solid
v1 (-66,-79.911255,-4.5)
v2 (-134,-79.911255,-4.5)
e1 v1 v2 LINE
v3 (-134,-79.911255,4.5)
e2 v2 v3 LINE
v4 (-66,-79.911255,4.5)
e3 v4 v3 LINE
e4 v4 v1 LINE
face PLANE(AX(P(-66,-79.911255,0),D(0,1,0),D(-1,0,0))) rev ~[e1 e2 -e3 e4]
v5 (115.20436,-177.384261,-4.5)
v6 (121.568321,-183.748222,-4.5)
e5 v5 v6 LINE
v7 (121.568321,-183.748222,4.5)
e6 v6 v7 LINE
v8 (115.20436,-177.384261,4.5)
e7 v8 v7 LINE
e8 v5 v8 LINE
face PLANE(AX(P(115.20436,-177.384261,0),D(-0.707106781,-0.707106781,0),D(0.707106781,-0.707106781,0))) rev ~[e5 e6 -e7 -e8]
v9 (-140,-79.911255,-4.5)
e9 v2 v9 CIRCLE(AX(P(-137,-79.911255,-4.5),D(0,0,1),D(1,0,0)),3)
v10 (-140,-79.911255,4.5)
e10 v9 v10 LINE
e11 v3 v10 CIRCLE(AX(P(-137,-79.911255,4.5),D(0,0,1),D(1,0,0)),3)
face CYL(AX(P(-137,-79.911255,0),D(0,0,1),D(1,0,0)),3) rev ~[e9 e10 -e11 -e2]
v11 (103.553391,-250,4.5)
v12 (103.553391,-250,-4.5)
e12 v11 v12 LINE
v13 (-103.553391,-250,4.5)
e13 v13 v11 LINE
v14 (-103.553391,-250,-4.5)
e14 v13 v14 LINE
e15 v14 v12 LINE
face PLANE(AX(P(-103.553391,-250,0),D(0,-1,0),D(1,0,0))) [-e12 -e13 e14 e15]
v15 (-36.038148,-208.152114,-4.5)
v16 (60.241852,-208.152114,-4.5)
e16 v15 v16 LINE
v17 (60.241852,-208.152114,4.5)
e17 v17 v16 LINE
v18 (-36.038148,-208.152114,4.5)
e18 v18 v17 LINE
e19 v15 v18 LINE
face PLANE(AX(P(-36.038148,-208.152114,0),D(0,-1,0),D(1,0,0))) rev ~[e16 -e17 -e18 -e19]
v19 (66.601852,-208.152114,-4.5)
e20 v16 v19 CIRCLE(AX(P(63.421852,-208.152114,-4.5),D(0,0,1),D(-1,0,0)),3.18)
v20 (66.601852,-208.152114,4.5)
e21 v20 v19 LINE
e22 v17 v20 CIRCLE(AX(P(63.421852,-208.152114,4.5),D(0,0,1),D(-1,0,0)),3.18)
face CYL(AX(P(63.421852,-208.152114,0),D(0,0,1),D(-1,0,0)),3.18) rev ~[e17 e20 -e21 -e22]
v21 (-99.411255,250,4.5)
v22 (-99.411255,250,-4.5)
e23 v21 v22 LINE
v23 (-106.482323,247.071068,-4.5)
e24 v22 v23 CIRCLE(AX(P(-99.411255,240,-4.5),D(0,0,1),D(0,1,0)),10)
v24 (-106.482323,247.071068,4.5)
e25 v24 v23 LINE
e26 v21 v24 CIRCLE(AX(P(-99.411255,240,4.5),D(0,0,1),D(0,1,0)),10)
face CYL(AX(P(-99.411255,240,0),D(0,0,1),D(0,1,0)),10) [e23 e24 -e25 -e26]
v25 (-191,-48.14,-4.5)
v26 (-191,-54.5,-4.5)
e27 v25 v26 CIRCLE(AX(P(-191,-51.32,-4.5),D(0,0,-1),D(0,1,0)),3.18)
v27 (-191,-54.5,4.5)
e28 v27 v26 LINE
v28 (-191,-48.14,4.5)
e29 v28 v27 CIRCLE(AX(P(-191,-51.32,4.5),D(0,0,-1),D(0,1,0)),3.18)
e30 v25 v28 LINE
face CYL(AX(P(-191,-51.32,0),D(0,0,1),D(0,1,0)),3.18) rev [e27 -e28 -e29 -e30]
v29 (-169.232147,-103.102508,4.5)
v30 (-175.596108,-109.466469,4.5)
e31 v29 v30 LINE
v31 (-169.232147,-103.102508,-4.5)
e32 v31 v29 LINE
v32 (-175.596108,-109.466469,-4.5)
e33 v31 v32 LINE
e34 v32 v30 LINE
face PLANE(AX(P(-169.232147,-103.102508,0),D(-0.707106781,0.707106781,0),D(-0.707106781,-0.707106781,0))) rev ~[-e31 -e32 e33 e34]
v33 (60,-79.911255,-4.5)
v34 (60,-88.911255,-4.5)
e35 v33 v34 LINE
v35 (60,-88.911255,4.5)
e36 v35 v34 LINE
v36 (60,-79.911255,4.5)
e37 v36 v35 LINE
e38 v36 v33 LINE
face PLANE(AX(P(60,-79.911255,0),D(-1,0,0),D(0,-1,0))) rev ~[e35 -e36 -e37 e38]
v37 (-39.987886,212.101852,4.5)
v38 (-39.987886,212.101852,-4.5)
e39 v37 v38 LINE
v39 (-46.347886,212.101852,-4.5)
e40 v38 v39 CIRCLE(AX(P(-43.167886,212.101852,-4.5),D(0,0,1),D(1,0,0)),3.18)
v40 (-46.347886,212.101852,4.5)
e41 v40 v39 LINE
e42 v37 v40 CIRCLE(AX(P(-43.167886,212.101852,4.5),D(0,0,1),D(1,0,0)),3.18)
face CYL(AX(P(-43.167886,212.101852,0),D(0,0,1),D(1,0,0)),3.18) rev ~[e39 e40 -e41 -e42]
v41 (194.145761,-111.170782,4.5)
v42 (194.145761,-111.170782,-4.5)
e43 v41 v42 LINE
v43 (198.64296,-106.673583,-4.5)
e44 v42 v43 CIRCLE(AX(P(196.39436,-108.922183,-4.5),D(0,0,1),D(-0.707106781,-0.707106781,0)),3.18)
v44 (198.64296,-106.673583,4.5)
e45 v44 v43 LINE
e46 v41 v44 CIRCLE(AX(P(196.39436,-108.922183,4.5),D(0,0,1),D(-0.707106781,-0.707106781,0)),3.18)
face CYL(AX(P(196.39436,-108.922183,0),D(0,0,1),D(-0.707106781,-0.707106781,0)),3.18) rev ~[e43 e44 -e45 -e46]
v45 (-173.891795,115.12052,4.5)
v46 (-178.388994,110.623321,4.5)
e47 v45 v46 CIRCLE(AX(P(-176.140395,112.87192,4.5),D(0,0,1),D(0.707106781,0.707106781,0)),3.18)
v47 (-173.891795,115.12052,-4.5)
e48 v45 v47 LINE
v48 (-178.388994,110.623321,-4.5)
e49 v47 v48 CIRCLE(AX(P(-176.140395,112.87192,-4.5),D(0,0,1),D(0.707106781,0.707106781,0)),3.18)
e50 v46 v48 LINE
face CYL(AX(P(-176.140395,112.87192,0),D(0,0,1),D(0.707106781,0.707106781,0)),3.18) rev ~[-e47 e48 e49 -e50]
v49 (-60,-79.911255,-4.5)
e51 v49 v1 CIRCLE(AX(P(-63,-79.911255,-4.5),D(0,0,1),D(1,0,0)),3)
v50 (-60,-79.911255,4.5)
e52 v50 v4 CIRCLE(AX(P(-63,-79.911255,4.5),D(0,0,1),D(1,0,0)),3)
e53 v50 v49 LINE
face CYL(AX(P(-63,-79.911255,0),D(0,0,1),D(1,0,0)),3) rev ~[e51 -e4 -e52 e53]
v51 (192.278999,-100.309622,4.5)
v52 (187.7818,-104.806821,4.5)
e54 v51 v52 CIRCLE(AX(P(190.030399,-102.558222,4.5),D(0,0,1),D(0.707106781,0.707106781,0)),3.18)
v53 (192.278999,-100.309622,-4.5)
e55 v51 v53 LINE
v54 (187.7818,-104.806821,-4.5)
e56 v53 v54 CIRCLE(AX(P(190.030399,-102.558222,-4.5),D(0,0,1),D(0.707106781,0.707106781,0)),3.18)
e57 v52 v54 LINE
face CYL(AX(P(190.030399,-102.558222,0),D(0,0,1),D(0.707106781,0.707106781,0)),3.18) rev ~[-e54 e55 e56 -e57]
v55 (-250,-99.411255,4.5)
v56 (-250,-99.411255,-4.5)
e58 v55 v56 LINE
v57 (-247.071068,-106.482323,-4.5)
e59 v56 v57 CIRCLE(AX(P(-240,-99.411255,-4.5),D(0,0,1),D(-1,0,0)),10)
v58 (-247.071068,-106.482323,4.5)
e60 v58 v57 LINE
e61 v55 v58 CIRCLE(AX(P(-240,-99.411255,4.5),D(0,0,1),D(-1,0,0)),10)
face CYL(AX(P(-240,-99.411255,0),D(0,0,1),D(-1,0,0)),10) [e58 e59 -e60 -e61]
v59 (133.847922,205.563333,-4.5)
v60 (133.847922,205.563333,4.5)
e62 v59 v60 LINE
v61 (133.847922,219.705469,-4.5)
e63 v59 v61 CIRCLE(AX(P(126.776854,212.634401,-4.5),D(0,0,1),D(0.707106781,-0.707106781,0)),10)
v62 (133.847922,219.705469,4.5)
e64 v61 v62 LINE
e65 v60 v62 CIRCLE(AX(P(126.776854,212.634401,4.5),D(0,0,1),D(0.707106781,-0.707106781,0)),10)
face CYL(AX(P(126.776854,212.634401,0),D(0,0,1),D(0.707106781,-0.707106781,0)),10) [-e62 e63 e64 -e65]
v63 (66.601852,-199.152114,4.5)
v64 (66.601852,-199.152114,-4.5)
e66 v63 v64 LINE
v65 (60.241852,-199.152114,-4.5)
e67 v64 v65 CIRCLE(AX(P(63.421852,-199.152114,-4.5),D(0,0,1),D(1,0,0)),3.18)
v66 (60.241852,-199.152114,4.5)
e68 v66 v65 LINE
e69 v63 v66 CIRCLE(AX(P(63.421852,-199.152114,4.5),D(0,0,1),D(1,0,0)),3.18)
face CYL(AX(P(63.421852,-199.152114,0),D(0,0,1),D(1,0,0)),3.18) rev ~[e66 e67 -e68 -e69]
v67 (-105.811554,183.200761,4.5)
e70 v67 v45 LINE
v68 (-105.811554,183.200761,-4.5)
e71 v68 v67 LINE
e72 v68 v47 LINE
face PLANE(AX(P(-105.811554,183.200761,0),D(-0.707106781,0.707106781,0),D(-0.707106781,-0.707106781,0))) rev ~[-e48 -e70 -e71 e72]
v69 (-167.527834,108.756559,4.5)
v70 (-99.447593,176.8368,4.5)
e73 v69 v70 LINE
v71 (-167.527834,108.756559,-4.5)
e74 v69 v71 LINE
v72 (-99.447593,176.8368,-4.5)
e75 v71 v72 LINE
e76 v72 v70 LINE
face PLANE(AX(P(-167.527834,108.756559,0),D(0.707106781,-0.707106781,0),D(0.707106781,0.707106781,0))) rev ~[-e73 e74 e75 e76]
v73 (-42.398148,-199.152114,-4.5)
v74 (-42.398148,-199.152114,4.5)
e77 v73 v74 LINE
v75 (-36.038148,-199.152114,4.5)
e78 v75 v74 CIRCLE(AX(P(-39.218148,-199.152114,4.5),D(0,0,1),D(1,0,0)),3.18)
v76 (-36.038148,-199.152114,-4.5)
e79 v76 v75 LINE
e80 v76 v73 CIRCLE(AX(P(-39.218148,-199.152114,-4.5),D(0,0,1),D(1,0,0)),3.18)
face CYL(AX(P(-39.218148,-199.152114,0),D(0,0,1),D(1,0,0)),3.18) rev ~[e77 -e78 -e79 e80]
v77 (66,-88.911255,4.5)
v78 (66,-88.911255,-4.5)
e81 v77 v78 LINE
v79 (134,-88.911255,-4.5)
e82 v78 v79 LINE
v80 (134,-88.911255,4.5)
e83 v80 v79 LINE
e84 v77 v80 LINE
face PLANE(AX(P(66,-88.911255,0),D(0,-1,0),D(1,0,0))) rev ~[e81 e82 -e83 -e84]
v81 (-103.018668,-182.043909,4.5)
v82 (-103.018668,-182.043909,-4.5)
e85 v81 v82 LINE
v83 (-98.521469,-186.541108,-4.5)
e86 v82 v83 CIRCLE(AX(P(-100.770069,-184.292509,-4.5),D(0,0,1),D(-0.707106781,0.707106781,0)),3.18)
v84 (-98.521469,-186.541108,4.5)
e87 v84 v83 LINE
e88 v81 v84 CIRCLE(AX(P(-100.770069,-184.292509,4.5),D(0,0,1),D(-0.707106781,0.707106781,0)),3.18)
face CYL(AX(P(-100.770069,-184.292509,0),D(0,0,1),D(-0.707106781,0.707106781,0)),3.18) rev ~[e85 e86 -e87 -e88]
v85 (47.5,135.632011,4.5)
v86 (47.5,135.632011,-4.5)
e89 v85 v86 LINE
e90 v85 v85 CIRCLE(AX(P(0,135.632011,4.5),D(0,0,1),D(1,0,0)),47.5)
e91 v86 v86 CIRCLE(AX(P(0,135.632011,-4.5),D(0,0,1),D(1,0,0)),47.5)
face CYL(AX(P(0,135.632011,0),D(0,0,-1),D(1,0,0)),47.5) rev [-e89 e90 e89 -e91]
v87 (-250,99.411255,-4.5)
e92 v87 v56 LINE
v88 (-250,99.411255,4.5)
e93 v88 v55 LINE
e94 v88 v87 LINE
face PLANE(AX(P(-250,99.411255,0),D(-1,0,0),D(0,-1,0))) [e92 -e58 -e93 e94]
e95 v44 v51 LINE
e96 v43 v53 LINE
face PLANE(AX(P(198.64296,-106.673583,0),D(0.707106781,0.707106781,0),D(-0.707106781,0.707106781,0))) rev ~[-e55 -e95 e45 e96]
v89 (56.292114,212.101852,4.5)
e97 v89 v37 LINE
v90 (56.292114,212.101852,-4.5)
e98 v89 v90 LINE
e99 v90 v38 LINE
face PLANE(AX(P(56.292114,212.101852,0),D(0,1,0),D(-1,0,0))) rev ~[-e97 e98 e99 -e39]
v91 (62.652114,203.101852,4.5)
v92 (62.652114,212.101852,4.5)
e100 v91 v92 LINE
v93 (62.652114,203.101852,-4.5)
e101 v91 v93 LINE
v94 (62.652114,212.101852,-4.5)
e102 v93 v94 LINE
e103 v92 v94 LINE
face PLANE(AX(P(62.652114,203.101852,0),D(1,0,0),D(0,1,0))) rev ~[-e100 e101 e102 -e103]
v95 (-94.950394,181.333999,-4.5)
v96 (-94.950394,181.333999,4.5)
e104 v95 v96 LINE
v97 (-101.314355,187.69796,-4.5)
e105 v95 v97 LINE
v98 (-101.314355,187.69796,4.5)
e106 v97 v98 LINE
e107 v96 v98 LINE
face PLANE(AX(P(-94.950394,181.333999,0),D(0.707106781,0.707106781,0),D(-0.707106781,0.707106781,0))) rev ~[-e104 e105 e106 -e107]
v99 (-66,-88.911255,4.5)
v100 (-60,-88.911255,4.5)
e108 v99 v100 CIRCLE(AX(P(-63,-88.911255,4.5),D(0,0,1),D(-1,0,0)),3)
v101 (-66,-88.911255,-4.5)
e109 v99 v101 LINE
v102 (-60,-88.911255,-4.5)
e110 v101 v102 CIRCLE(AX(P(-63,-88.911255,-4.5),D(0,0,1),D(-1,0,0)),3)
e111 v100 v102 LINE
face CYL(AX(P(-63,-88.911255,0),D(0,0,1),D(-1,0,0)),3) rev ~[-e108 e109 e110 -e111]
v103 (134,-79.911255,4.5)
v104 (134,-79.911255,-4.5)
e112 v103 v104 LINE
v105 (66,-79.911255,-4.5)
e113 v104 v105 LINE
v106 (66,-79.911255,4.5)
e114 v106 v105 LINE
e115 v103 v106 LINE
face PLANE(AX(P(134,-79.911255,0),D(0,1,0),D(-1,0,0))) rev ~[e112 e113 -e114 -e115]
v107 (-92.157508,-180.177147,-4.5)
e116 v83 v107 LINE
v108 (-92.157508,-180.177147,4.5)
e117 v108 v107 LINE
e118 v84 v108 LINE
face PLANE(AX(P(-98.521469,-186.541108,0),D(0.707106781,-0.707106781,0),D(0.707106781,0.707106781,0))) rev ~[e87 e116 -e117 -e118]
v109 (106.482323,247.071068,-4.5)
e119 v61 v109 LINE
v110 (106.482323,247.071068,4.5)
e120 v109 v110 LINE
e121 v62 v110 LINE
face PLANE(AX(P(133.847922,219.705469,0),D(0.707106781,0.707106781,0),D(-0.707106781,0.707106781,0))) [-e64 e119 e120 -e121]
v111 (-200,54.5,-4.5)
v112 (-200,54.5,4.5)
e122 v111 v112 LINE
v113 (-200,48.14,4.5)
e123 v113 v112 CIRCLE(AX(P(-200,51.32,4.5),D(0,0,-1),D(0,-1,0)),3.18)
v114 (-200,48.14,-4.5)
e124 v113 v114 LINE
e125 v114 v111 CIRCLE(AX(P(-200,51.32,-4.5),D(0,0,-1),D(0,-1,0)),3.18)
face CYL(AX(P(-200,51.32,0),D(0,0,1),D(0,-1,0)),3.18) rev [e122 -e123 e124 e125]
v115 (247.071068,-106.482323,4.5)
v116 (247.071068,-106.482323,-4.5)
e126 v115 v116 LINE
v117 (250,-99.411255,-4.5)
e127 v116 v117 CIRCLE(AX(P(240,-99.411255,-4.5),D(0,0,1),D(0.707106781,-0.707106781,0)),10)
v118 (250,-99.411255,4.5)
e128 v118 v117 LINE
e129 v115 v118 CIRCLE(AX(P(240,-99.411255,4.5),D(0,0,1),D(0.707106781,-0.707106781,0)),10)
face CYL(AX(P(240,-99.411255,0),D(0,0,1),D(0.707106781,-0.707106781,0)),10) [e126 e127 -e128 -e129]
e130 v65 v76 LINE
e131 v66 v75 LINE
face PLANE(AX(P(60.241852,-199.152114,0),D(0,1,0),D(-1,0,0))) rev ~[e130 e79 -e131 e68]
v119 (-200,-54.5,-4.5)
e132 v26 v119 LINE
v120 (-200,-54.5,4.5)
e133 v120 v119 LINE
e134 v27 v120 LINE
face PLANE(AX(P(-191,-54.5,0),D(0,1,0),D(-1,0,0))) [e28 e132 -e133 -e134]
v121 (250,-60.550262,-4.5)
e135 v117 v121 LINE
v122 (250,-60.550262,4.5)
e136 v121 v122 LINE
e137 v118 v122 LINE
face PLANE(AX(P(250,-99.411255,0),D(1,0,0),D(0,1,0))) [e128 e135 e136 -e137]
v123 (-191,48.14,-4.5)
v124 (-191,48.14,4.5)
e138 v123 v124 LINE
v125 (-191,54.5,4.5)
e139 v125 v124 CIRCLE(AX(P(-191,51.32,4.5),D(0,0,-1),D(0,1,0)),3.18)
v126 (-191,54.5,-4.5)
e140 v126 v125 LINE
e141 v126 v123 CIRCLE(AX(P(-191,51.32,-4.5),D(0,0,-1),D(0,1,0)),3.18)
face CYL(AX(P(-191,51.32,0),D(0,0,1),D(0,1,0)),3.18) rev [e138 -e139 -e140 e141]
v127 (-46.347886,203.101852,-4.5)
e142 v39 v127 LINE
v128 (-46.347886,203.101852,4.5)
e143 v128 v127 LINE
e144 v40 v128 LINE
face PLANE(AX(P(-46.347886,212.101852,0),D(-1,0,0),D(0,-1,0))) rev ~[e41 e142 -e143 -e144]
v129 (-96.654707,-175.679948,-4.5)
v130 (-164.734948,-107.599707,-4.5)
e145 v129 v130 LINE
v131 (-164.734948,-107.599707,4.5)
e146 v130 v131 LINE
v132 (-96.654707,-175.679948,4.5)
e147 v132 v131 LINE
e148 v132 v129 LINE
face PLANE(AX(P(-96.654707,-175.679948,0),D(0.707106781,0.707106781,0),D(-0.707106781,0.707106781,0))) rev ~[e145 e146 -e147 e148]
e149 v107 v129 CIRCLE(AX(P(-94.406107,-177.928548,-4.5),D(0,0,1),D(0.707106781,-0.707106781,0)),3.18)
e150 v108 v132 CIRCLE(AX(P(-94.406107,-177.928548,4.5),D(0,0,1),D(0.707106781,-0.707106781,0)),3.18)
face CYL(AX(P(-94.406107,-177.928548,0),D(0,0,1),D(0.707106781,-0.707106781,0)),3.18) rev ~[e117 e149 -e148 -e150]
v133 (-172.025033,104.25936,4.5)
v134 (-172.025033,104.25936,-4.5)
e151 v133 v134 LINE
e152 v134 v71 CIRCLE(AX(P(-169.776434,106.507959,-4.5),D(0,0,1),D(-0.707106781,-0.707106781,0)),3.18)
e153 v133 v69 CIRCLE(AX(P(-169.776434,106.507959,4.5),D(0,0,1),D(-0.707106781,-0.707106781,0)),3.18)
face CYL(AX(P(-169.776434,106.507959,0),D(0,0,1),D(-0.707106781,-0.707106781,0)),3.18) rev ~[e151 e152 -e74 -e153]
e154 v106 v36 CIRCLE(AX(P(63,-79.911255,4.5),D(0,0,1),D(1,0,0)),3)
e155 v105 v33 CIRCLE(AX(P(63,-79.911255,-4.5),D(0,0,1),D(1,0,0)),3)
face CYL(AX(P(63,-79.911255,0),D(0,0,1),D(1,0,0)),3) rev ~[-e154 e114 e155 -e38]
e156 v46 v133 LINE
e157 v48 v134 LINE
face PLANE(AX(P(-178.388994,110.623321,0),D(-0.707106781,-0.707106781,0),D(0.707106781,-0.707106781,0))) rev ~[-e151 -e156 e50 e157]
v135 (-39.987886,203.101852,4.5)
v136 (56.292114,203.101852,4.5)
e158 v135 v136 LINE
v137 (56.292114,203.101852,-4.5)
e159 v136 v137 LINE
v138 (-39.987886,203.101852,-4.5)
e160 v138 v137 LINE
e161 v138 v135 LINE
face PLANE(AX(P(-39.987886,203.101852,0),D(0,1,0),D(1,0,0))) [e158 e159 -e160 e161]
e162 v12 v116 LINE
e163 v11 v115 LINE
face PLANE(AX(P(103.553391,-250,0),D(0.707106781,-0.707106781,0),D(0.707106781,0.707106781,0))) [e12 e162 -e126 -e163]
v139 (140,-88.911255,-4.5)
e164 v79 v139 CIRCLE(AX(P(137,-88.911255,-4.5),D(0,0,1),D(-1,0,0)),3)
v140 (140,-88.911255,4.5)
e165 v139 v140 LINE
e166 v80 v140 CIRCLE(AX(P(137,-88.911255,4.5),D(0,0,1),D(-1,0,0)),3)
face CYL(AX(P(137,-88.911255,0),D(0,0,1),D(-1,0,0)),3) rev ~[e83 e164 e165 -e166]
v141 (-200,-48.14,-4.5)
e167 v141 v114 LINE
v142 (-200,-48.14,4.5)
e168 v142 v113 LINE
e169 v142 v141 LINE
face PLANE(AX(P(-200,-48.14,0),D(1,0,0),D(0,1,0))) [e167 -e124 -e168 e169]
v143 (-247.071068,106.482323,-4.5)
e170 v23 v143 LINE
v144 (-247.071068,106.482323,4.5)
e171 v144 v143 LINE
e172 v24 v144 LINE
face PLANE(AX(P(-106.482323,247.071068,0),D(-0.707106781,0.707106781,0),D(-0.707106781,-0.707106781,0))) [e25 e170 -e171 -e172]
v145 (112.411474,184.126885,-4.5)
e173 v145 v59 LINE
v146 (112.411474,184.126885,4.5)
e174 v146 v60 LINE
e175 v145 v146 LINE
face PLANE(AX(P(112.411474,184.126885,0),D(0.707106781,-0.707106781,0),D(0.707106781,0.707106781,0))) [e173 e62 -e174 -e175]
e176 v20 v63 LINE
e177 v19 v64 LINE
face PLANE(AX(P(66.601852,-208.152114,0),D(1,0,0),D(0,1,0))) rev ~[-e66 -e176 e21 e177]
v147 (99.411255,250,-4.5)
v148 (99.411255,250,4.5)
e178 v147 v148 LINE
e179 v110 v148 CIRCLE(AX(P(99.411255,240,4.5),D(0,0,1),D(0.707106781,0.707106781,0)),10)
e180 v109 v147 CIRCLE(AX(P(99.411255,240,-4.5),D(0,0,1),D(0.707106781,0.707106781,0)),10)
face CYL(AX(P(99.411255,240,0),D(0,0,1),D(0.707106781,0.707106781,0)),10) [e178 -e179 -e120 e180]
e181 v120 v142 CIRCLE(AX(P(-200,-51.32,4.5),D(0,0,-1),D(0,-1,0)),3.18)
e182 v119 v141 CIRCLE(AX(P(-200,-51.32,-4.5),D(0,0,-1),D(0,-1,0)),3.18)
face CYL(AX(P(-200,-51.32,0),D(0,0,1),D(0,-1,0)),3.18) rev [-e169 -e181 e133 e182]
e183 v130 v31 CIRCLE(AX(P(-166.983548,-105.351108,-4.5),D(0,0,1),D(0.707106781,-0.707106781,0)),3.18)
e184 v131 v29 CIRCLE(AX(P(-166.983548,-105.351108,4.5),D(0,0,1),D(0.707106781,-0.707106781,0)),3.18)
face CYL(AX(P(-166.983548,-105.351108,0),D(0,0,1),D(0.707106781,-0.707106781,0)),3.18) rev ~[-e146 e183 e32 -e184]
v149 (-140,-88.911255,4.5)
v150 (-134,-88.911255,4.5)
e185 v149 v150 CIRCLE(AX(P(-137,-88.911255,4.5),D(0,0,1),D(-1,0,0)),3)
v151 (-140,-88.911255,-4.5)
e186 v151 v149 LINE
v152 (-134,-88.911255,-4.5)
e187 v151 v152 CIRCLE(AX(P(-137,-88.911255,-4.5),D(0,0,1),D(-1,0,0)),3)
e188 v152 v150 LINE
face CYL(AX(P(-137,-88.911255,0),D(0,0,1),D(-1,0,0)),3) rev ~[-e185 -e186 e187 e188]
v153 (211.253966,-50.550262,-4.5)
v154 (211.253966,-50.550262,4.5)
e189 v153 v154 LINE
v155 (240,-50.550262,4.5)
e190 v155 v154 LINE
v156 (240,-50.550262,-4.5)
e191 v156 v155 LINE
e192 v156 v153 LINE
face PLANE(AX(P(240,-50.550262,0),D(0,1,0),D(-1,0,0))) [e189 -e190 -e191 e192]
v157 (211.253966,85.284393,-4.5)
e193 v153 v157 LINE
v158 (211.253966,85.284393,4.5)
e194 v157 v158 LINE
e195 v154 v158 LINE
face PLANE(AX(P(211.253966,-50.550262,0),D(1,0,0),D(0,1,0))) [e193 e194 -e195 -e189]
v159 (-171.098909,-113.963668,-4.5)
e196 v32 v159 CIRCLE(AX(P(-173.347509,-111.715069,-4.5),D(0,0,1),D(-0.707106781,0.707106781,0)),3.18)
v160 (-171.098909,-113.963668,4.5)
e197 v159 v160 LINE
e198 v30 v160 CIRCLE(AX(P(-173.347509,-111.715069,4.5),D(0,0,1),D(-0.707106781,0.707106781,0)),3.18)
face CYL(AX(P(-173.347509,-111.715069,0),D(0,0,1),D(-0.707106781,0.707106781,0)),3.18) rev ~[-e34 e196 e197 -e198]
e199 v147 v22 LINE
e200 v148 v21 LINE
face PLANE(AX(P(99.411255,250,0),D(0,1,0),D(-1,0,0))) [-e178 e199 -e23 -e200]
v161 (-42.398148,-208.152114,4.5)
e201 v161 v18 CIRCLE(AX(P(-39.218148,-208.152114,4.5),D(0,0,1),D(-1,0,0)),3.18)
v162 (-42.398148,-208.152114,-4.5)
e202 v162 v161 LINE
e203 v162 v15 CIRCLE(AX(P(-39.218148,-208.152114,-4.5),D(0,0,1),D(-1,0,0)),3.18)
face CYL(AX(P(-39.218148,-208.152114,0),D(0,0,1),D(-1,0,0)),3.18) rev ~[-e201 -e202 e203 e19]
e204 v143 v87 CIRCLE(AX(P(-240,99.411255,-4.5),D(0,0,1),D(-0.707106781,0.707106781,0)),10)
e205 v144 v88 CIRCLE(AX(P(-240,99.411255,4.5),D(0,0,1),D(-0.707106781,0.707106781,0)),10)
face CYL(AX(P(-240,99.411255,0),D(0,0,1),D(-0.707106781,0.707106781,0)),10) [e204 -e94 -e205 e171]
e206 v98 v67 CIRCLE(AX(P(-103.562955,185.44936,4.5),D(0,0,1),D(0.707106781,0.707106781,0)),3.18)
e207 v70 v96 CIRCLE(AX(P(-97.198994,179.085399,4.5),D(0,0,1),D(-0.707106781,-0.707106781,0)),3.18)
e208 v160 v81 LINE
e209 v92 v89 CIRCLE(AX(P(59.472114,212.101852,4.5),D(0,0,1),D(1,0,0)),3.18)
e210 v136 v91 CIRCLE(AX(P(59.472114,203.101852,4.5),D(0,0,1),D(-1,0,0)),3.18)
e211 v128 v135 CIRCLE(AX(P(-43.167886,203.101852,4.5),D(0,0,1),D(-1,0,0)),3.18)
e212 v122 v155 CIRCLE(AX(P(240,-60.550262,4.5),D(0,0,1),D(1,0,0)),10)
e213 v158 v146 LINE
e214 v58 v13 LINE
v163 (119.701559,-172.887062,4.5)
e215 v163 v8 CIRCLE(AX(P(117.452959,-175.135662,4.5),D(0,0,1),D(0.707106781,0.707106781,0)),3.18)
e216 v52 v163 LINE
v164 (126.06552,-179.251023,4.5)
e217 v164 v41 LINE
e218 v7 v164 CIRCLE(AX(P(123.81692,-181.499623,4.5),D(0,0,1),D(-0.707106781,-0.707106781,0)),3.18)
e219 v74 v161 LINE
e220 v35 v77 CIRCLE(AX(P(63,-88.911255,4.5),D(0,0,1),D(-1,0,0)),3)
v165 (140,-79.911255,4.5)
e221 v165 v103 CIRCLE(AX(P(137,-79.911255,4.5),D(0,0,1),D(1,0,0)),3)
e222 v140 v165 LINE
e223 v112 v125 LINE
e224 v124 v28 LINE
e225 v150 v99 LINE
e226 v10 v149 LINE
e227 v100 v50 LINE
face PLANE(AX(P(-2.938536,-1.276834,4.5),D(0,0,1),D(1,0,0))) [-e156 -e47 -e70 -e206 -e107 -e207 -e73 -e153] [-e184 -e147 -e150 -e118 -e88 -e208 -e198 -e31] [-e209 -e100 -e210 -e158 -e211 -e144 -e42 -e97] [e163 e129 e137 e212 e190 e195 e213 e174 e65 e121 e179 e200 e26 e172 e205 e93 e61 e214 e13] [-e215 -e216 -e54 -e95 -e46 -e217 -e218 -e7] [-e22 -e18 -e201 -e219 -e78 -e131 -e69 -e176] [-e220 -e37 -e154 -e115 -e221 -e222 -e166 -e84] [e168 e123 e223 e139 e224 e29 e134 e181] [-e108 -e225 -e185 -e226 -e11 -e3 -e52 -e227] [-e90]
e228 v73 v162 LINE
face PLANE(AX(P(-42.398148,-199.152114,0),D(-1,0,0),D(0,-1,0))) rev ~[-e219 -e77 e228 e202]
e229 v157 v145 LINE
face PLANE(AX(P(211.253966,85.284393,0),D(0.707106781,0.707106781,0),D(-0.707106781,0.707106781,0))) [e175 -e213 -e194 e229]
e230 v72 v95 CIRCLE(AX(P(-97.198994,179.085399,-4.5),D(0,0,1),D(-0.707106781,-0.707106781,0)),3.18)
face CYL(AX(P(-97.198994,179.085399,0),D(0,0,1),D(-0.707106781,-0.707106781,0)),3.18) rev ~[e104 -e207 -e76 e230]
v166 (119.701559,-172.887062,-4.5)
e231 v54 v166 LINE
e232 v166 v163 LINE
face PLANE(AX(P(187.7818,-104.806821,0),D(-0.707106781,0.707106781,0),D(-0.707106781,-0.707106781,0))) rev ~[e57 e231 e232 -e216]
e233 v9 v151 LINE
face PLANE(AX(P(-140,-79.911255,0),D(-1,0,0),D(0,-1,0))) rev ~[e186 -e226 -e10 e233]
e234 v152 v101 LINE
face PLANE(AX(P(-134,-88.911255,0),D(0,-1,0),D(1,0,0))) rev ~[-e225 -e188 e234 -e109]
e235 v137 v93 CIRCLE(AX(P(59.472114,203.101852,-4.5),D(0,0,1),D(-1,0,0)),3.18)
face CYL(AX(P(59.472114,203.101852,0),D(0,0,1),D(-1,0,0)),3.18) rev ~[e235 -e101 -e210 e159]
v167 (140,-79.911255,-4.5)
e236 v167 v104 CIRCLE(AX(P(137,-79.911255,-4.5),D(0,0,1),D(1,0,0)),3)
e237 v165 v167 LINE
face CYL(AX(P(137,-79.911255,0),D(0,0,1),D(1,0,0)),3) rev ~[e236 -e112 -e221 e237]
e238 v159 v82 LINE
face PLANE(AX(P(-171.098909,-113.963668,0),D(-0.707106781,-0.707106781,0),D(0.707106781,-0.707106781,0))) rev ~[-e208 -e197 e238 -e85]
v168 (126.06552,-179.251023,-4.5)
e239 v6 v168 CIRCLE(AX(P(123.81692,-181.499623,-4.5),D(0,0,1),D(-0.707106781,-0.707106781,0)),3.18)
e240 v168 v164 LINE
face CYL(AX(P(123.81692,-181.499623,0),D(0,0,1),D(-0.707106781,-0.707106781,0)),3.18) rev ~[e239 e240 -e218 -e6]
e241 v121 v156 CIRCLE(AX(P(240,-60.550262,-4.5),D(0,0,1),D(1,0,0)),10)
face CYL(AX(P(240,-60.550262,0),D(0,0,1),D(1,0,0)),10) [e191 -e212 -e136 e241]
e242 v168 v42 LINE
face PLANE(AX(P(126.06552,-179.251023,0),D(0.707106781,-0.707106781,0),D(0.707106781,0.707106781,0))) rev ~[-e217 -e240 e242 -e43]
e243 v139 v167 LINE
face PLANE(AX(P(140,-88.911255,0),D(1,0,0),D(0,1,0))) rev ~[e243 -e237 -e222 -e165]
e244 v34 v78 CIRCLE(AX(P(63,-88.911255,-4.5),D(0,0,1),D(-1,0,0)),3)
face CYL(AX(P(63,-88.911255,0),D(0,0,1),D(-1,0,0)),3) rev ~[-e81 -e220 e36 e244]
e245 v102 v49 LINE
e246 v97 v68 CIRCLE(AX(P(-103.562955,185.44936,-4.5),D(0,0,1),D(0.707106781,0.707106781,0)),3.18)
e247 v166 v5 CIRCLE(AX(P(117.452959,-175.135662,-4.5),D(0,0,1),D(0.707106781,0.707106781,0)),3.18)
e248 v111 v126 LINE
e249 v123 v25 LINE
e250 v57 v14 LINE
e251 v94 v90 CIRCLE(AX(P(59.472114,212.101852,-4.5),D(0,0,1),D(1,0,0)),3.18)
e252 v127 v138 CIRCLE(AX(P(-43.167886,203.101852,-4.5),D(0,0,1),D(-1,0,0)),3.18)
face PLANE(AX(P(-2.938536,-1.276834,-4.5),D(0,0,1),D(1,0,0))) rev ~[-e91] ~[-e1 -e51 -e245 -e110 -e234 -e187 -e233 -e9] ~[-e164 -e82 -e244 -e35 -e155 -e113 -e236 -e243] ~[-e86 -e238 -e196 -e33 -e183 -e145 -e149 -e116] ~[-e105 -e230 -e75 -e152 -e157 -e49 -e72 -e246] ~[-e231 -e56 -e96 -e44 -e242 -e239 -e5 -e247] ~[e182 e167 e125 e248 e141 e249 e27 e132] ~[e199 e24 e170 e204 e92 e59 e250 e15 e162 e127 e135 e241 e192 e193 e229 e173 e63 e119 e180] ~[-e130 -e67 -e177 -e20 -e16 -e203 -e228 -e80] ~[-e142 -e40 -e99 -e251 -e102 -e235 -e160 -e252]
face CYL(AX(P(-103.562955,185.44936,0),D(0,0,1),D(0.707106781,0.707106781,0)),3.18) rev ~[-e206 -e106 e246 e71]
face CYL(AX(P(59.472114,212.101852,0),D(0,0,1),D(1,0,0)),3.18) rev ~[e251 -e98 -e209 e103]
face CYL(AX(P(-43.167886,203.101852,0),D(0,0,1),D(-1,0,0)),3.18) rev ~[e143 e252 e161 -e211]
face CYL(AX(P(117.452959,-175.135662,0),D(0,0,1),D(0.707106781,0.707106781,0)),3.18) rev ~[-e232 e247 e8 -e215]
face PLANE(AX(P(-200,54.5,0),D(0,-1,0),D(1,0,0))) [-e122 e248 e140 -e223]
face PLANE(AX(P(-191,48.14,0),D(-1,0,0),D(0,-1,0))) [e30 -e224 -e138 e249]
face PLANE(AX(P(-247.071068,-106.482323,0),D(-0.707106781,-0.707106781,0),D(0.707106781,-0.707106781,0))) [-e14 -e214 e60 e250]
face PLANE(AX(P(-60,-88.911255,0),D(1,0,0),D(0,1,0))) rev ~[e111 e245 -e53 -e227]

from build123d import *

# Parameters (mm, degrees)
SKETCH1_R           = 47.5
BOSS_EXTRUDE1_DEPTH = 4.5


with BuildPart() as part:
    # Sketch1 → Boss-Extrude1 (new body, symmetric)
    with BuildSketch(Plane.XY):
        with BuildLine():
            Line((250, -99.41125497), (250, -60.550262484))
            ThreePointArc((250, -60.550262484), (247.071067812, -53.479194672), (240, -50.550262484))
            Line((240, -50.550262484), (211.253965719, -50.550262484))
            Line((211.253965719, -50.550262484), (211.253965719, 85.284392818))
            Line((211.253965719, 85.284392818), (112.411473654, 184.126884883))
            Line((112.411473654, 184.126884883), (133.84792187, 205.563333099))
            ThreePointArc((133.84792187, 205.563333099), (136.776854058, 212.634400911), (133.84792187, 219.705468723))
            Line((133.84792187, 219.705468723), (106.482322781, 247.071067812))
            ThreePointArc((106.482322781, 247.071067812), (103.238089293, 249.238795325), (99.41125497, 250))
            Line((99.41125497, 250), (-99.41125497, 250))
            ThreePointArc((-99.41125497, 250), (-103.238089293, 249.238795325), (-106.482322781, 247.071067812))
            Line((-106.482322781, 247.071067812), (-247.071067812, 106.482322781))
            ThreePointArc((-247.071067812, 106.482322781), (-249.238795325, 103.238089293), (-250, 99.41125497))
            Line((-250, 99.41125497), (-250, -99.41125497))
            ThreePointArc((-250, -99.41125497), (-249.238795325, -103.238089293), (-247.071067812, -106.482322781))
            Line((-247.071067812, -106.482322781), (-103.553390593, -250))
            Line((-103.553390593, -250), (103.553390593, -250))
            Line((103.553390593, -250), (247.071067812, -106.482322781))
            ThreePointArc((247.071067812, -106.482322781), (249.238795325, -103.238089293), (250, -99.41125497))
        make_face()
        with Locations((0, 135.632011386)):
            Circle(SKETCH1_R, mode=Mode.SUBTRACT)
        with BuildLine():
            Line((-200, 54.5), (-191, 54.5))
            ThreePointArc((-191, 54.5), (-187.82, 51.32), (-191, 48.14))
            Line((-191, 48.14), (-191, -48.14))
            ThreePointArc((-191, -48.14), (-187.82, -51.32), (-191, -54.5))
            Line((-191, -54.5), (-200, -54.5))
            ThreePointArc((-200, -54.5), (-203.18, -51.32), (-200, -48.14))
            Line((-200, -48.14), (-200, 48.14))
            ThreePointArc((-200, 48.14), (-203.18, 51.32), (-200, 54.5))
        make_face(mode=Mode.SUBTRACT)
        with BuildLine():
            Line((-105.811554275, 183.200760604), (-173.891795168, 115.120519711))
            ThreePointArc((-173.891795168, 115.120519711), (-178.388994296, 115.120519711), (-178.388994296, 110.623320583))
            Line((-178.388994296, 110.623320583), (-172.025033265, 104.259359552))
            ThreePointArc((-172.025033265, 104.259359552), (-167.527834137, 104.259359552), (-167.527834137, 108.756558681))
            Line((-167.527834137, 108.756558681), (-99.447593244, 176.836799573))
            ThreePointArc((-99.447593244, 176.836799573), (-94.950394116, 176.836799573), (-94.950394116, 181.333998701))
            Line((-94.950394116, 181.333998701), (-101.314355147, 187.697959732))
            ThreePointArc((-101.314355147, 187.697959732), (-105.811554275, 187.697959732), (-105.811554275, 183.200760604))
        make_face(mode=Mode.SUBTRACT)
        with BuildLine():
            Line((56.292114102, 212.101851618), (-39.987885898, 212.101851618))
            ThreePointArc((-39.987885898, 212.101851618), (-43.167885898, 215.281851618), (-46.347885898, 212.101851618))
            Line((-46.347885898, 212.101851618), (-46.347885898, 203.101851618))
            ThreePointArc((-46.347885898, 203.101851618), (-43.167885898, 199.921851618), (-39.987885898, 203.101851618))
            Line((-39.987885898, 203.101851618), (56.292114102, 203.101851618))
            ThreePointArc((56.292114102, 203.101851618), (59.472114102, 199.921851618), (62.652114102, 203.101851618))
            Line((62.652114102, 203.101851618), (62.652114102, 212.101851618))
            ThreePointArc((62.652114102, 212.101851618), (59.472114102, 215.281851618), (56.292114102, 212.101851618))
        make_face(mode=Mode.SUBTRACT)
        with BuildLine():
            Line((126.065519994, -179.251023088), (194.145760887, -111.170782195))
            ThreePointArc((194.145760887, -111.170782195), (198.642960015, -111.170782195), (198.642960015, -106.673583067))
            Line((198.642960015, -106.673583067), (192.278998984, -100.309622036))
            ThreePointArc((192.278998984, -100.309622036), (187.781799856, -100.309622036), (187.781799856, -104.806821165))
            Line((187.781799856, -104.806821165), (119.701558963, -172.887062057))
            ThreePointArc((119.701558963, -172.887062057), (115.204359835, -172.887062057), (115.204359835, -177.384261185))
            Line((115.204359835, -177.384261185), (121.568320866, -183.748222216))
            ThreePointArc((121.568320866, -183.748222216), (126.065519994, -183.748222216), (126.065519994, -179.251023088))
        make_face(mode=Mode.SUBTRACT)
        with BuildLine():
            Line((-36.038148382, -208.152114102), (60.241851618, -208.152114102))
            ThreePointArc((60.241851618, -208.152114102), (63.421851618, -211.332114102), (66.601851618, -208.152114102))
            Line((66.601851618, -208.152114102), (66.601851618, -199.152114102))
            ThreePointArc((66.601851618, -199.152114102), (63.421851618, -195.972114102), (60.241851618, -199.152114102))
            Line((60.241851618, -199.152114102), (-36.038148382, -199.152114102))
            ThreePointArc((-36.038148382, -199.152114102), (-39.218148382, -195.972114102), (-42.398148382, -199.152114102))
            Line((-42.398148382, -199.152114102), (-42.398148382, -208.152114102))
            ThreePointArc((-42.398148382, -208.152114102), (-39.218148382, -211.332114102), (-36.038148382, -208.152114102))
        make_face(mode=Mode.SUBTRACT)
        with BuildLine():
            Line((-171.098908986, -113.963668377), (-103.018668094, -182.043909269))
            ThreePointArc((-103.018668094, -182.043909269), (-103.018668094, -186.541108398), (-98.521468965, -186.541108398))
            Line((-98.521468965, -186.541108398), (-92.157507935, -180.177147367))
            ThreePointArc((-92.157507935, -180.177147367), (-92.157507935, -175.679948239), (-96.654707063, -175.679948239))
            Line((-96.654707063, -175.679948239), (-164.734947956, -107.599707346))
            ThreePointArc((-164.734947956, -107.599707346), (-164.734947956, -103.102508218), (-169.232147084, -103.102508218))
            Line((-169.232147084, -103.102508218), (-175.596108115, -109.466469248))
            ThreePointArc((-175.596108115, -109.466469248), (-175.596108115, -113.963668377), (-171.098908986, -113.963668377))
        make_face(mode=Mode.SUBTRACT)
        with BuildLine():
            Line((-134, -88.91125497), (-66, -88.91125497))
            ThreePointArc((-66, -88.91125497), (-63, -91.91125497), (-60, -88.91125497))
            Line((-60, -88.91125497), (-60, -79.91125497))
            ThreePointArc((-60, -79.91125497), (-63, -76.91125497), (-66, -79.91125497))
            Line((-66, -79.91125497), (-134, -79.91125497))
            ThreePointArc((-134, -79.91125497), (-137, -76.91125497), (-140, -79.91125497))
            Line((-140, -79.91125497), (-140, -88.91125497))
            ThreePointArc((-140, -88.91125497), (-137, -91.91125497), (-134, -88.91125497))
        make_face(mode=Mode.SUBTRACT)
        with BuildLine():
            Line((140, -88.91125497), (140, -79.91125497))
            ThreePointArc((140, -79.91125497), (137, -76.91125497), (134, -79.91125497))
            Line((134, -79.91125497), (66, -79.91125497))
            ThreePointArc((66, -79.91125497), (63, -76.91125497), (60, -79.91125497))
            Line((60, -79.91125497), (60, -88.91125497))
            ThreePointArc((60, -88.91125497), (63, -91.91125497), (66, -88.91125497))
            Line((66, -88.91125497), (134, -88.91125497))
            ThreePointArc((134, -88.91125497), (137, -91.91125497), (140, -88.91125497))
        make_face(mode=Mode.SUBTRACT)
    extrude(amount=BOSS_EXTRUDE1_DEPTH, both=True)


solid = part.part
